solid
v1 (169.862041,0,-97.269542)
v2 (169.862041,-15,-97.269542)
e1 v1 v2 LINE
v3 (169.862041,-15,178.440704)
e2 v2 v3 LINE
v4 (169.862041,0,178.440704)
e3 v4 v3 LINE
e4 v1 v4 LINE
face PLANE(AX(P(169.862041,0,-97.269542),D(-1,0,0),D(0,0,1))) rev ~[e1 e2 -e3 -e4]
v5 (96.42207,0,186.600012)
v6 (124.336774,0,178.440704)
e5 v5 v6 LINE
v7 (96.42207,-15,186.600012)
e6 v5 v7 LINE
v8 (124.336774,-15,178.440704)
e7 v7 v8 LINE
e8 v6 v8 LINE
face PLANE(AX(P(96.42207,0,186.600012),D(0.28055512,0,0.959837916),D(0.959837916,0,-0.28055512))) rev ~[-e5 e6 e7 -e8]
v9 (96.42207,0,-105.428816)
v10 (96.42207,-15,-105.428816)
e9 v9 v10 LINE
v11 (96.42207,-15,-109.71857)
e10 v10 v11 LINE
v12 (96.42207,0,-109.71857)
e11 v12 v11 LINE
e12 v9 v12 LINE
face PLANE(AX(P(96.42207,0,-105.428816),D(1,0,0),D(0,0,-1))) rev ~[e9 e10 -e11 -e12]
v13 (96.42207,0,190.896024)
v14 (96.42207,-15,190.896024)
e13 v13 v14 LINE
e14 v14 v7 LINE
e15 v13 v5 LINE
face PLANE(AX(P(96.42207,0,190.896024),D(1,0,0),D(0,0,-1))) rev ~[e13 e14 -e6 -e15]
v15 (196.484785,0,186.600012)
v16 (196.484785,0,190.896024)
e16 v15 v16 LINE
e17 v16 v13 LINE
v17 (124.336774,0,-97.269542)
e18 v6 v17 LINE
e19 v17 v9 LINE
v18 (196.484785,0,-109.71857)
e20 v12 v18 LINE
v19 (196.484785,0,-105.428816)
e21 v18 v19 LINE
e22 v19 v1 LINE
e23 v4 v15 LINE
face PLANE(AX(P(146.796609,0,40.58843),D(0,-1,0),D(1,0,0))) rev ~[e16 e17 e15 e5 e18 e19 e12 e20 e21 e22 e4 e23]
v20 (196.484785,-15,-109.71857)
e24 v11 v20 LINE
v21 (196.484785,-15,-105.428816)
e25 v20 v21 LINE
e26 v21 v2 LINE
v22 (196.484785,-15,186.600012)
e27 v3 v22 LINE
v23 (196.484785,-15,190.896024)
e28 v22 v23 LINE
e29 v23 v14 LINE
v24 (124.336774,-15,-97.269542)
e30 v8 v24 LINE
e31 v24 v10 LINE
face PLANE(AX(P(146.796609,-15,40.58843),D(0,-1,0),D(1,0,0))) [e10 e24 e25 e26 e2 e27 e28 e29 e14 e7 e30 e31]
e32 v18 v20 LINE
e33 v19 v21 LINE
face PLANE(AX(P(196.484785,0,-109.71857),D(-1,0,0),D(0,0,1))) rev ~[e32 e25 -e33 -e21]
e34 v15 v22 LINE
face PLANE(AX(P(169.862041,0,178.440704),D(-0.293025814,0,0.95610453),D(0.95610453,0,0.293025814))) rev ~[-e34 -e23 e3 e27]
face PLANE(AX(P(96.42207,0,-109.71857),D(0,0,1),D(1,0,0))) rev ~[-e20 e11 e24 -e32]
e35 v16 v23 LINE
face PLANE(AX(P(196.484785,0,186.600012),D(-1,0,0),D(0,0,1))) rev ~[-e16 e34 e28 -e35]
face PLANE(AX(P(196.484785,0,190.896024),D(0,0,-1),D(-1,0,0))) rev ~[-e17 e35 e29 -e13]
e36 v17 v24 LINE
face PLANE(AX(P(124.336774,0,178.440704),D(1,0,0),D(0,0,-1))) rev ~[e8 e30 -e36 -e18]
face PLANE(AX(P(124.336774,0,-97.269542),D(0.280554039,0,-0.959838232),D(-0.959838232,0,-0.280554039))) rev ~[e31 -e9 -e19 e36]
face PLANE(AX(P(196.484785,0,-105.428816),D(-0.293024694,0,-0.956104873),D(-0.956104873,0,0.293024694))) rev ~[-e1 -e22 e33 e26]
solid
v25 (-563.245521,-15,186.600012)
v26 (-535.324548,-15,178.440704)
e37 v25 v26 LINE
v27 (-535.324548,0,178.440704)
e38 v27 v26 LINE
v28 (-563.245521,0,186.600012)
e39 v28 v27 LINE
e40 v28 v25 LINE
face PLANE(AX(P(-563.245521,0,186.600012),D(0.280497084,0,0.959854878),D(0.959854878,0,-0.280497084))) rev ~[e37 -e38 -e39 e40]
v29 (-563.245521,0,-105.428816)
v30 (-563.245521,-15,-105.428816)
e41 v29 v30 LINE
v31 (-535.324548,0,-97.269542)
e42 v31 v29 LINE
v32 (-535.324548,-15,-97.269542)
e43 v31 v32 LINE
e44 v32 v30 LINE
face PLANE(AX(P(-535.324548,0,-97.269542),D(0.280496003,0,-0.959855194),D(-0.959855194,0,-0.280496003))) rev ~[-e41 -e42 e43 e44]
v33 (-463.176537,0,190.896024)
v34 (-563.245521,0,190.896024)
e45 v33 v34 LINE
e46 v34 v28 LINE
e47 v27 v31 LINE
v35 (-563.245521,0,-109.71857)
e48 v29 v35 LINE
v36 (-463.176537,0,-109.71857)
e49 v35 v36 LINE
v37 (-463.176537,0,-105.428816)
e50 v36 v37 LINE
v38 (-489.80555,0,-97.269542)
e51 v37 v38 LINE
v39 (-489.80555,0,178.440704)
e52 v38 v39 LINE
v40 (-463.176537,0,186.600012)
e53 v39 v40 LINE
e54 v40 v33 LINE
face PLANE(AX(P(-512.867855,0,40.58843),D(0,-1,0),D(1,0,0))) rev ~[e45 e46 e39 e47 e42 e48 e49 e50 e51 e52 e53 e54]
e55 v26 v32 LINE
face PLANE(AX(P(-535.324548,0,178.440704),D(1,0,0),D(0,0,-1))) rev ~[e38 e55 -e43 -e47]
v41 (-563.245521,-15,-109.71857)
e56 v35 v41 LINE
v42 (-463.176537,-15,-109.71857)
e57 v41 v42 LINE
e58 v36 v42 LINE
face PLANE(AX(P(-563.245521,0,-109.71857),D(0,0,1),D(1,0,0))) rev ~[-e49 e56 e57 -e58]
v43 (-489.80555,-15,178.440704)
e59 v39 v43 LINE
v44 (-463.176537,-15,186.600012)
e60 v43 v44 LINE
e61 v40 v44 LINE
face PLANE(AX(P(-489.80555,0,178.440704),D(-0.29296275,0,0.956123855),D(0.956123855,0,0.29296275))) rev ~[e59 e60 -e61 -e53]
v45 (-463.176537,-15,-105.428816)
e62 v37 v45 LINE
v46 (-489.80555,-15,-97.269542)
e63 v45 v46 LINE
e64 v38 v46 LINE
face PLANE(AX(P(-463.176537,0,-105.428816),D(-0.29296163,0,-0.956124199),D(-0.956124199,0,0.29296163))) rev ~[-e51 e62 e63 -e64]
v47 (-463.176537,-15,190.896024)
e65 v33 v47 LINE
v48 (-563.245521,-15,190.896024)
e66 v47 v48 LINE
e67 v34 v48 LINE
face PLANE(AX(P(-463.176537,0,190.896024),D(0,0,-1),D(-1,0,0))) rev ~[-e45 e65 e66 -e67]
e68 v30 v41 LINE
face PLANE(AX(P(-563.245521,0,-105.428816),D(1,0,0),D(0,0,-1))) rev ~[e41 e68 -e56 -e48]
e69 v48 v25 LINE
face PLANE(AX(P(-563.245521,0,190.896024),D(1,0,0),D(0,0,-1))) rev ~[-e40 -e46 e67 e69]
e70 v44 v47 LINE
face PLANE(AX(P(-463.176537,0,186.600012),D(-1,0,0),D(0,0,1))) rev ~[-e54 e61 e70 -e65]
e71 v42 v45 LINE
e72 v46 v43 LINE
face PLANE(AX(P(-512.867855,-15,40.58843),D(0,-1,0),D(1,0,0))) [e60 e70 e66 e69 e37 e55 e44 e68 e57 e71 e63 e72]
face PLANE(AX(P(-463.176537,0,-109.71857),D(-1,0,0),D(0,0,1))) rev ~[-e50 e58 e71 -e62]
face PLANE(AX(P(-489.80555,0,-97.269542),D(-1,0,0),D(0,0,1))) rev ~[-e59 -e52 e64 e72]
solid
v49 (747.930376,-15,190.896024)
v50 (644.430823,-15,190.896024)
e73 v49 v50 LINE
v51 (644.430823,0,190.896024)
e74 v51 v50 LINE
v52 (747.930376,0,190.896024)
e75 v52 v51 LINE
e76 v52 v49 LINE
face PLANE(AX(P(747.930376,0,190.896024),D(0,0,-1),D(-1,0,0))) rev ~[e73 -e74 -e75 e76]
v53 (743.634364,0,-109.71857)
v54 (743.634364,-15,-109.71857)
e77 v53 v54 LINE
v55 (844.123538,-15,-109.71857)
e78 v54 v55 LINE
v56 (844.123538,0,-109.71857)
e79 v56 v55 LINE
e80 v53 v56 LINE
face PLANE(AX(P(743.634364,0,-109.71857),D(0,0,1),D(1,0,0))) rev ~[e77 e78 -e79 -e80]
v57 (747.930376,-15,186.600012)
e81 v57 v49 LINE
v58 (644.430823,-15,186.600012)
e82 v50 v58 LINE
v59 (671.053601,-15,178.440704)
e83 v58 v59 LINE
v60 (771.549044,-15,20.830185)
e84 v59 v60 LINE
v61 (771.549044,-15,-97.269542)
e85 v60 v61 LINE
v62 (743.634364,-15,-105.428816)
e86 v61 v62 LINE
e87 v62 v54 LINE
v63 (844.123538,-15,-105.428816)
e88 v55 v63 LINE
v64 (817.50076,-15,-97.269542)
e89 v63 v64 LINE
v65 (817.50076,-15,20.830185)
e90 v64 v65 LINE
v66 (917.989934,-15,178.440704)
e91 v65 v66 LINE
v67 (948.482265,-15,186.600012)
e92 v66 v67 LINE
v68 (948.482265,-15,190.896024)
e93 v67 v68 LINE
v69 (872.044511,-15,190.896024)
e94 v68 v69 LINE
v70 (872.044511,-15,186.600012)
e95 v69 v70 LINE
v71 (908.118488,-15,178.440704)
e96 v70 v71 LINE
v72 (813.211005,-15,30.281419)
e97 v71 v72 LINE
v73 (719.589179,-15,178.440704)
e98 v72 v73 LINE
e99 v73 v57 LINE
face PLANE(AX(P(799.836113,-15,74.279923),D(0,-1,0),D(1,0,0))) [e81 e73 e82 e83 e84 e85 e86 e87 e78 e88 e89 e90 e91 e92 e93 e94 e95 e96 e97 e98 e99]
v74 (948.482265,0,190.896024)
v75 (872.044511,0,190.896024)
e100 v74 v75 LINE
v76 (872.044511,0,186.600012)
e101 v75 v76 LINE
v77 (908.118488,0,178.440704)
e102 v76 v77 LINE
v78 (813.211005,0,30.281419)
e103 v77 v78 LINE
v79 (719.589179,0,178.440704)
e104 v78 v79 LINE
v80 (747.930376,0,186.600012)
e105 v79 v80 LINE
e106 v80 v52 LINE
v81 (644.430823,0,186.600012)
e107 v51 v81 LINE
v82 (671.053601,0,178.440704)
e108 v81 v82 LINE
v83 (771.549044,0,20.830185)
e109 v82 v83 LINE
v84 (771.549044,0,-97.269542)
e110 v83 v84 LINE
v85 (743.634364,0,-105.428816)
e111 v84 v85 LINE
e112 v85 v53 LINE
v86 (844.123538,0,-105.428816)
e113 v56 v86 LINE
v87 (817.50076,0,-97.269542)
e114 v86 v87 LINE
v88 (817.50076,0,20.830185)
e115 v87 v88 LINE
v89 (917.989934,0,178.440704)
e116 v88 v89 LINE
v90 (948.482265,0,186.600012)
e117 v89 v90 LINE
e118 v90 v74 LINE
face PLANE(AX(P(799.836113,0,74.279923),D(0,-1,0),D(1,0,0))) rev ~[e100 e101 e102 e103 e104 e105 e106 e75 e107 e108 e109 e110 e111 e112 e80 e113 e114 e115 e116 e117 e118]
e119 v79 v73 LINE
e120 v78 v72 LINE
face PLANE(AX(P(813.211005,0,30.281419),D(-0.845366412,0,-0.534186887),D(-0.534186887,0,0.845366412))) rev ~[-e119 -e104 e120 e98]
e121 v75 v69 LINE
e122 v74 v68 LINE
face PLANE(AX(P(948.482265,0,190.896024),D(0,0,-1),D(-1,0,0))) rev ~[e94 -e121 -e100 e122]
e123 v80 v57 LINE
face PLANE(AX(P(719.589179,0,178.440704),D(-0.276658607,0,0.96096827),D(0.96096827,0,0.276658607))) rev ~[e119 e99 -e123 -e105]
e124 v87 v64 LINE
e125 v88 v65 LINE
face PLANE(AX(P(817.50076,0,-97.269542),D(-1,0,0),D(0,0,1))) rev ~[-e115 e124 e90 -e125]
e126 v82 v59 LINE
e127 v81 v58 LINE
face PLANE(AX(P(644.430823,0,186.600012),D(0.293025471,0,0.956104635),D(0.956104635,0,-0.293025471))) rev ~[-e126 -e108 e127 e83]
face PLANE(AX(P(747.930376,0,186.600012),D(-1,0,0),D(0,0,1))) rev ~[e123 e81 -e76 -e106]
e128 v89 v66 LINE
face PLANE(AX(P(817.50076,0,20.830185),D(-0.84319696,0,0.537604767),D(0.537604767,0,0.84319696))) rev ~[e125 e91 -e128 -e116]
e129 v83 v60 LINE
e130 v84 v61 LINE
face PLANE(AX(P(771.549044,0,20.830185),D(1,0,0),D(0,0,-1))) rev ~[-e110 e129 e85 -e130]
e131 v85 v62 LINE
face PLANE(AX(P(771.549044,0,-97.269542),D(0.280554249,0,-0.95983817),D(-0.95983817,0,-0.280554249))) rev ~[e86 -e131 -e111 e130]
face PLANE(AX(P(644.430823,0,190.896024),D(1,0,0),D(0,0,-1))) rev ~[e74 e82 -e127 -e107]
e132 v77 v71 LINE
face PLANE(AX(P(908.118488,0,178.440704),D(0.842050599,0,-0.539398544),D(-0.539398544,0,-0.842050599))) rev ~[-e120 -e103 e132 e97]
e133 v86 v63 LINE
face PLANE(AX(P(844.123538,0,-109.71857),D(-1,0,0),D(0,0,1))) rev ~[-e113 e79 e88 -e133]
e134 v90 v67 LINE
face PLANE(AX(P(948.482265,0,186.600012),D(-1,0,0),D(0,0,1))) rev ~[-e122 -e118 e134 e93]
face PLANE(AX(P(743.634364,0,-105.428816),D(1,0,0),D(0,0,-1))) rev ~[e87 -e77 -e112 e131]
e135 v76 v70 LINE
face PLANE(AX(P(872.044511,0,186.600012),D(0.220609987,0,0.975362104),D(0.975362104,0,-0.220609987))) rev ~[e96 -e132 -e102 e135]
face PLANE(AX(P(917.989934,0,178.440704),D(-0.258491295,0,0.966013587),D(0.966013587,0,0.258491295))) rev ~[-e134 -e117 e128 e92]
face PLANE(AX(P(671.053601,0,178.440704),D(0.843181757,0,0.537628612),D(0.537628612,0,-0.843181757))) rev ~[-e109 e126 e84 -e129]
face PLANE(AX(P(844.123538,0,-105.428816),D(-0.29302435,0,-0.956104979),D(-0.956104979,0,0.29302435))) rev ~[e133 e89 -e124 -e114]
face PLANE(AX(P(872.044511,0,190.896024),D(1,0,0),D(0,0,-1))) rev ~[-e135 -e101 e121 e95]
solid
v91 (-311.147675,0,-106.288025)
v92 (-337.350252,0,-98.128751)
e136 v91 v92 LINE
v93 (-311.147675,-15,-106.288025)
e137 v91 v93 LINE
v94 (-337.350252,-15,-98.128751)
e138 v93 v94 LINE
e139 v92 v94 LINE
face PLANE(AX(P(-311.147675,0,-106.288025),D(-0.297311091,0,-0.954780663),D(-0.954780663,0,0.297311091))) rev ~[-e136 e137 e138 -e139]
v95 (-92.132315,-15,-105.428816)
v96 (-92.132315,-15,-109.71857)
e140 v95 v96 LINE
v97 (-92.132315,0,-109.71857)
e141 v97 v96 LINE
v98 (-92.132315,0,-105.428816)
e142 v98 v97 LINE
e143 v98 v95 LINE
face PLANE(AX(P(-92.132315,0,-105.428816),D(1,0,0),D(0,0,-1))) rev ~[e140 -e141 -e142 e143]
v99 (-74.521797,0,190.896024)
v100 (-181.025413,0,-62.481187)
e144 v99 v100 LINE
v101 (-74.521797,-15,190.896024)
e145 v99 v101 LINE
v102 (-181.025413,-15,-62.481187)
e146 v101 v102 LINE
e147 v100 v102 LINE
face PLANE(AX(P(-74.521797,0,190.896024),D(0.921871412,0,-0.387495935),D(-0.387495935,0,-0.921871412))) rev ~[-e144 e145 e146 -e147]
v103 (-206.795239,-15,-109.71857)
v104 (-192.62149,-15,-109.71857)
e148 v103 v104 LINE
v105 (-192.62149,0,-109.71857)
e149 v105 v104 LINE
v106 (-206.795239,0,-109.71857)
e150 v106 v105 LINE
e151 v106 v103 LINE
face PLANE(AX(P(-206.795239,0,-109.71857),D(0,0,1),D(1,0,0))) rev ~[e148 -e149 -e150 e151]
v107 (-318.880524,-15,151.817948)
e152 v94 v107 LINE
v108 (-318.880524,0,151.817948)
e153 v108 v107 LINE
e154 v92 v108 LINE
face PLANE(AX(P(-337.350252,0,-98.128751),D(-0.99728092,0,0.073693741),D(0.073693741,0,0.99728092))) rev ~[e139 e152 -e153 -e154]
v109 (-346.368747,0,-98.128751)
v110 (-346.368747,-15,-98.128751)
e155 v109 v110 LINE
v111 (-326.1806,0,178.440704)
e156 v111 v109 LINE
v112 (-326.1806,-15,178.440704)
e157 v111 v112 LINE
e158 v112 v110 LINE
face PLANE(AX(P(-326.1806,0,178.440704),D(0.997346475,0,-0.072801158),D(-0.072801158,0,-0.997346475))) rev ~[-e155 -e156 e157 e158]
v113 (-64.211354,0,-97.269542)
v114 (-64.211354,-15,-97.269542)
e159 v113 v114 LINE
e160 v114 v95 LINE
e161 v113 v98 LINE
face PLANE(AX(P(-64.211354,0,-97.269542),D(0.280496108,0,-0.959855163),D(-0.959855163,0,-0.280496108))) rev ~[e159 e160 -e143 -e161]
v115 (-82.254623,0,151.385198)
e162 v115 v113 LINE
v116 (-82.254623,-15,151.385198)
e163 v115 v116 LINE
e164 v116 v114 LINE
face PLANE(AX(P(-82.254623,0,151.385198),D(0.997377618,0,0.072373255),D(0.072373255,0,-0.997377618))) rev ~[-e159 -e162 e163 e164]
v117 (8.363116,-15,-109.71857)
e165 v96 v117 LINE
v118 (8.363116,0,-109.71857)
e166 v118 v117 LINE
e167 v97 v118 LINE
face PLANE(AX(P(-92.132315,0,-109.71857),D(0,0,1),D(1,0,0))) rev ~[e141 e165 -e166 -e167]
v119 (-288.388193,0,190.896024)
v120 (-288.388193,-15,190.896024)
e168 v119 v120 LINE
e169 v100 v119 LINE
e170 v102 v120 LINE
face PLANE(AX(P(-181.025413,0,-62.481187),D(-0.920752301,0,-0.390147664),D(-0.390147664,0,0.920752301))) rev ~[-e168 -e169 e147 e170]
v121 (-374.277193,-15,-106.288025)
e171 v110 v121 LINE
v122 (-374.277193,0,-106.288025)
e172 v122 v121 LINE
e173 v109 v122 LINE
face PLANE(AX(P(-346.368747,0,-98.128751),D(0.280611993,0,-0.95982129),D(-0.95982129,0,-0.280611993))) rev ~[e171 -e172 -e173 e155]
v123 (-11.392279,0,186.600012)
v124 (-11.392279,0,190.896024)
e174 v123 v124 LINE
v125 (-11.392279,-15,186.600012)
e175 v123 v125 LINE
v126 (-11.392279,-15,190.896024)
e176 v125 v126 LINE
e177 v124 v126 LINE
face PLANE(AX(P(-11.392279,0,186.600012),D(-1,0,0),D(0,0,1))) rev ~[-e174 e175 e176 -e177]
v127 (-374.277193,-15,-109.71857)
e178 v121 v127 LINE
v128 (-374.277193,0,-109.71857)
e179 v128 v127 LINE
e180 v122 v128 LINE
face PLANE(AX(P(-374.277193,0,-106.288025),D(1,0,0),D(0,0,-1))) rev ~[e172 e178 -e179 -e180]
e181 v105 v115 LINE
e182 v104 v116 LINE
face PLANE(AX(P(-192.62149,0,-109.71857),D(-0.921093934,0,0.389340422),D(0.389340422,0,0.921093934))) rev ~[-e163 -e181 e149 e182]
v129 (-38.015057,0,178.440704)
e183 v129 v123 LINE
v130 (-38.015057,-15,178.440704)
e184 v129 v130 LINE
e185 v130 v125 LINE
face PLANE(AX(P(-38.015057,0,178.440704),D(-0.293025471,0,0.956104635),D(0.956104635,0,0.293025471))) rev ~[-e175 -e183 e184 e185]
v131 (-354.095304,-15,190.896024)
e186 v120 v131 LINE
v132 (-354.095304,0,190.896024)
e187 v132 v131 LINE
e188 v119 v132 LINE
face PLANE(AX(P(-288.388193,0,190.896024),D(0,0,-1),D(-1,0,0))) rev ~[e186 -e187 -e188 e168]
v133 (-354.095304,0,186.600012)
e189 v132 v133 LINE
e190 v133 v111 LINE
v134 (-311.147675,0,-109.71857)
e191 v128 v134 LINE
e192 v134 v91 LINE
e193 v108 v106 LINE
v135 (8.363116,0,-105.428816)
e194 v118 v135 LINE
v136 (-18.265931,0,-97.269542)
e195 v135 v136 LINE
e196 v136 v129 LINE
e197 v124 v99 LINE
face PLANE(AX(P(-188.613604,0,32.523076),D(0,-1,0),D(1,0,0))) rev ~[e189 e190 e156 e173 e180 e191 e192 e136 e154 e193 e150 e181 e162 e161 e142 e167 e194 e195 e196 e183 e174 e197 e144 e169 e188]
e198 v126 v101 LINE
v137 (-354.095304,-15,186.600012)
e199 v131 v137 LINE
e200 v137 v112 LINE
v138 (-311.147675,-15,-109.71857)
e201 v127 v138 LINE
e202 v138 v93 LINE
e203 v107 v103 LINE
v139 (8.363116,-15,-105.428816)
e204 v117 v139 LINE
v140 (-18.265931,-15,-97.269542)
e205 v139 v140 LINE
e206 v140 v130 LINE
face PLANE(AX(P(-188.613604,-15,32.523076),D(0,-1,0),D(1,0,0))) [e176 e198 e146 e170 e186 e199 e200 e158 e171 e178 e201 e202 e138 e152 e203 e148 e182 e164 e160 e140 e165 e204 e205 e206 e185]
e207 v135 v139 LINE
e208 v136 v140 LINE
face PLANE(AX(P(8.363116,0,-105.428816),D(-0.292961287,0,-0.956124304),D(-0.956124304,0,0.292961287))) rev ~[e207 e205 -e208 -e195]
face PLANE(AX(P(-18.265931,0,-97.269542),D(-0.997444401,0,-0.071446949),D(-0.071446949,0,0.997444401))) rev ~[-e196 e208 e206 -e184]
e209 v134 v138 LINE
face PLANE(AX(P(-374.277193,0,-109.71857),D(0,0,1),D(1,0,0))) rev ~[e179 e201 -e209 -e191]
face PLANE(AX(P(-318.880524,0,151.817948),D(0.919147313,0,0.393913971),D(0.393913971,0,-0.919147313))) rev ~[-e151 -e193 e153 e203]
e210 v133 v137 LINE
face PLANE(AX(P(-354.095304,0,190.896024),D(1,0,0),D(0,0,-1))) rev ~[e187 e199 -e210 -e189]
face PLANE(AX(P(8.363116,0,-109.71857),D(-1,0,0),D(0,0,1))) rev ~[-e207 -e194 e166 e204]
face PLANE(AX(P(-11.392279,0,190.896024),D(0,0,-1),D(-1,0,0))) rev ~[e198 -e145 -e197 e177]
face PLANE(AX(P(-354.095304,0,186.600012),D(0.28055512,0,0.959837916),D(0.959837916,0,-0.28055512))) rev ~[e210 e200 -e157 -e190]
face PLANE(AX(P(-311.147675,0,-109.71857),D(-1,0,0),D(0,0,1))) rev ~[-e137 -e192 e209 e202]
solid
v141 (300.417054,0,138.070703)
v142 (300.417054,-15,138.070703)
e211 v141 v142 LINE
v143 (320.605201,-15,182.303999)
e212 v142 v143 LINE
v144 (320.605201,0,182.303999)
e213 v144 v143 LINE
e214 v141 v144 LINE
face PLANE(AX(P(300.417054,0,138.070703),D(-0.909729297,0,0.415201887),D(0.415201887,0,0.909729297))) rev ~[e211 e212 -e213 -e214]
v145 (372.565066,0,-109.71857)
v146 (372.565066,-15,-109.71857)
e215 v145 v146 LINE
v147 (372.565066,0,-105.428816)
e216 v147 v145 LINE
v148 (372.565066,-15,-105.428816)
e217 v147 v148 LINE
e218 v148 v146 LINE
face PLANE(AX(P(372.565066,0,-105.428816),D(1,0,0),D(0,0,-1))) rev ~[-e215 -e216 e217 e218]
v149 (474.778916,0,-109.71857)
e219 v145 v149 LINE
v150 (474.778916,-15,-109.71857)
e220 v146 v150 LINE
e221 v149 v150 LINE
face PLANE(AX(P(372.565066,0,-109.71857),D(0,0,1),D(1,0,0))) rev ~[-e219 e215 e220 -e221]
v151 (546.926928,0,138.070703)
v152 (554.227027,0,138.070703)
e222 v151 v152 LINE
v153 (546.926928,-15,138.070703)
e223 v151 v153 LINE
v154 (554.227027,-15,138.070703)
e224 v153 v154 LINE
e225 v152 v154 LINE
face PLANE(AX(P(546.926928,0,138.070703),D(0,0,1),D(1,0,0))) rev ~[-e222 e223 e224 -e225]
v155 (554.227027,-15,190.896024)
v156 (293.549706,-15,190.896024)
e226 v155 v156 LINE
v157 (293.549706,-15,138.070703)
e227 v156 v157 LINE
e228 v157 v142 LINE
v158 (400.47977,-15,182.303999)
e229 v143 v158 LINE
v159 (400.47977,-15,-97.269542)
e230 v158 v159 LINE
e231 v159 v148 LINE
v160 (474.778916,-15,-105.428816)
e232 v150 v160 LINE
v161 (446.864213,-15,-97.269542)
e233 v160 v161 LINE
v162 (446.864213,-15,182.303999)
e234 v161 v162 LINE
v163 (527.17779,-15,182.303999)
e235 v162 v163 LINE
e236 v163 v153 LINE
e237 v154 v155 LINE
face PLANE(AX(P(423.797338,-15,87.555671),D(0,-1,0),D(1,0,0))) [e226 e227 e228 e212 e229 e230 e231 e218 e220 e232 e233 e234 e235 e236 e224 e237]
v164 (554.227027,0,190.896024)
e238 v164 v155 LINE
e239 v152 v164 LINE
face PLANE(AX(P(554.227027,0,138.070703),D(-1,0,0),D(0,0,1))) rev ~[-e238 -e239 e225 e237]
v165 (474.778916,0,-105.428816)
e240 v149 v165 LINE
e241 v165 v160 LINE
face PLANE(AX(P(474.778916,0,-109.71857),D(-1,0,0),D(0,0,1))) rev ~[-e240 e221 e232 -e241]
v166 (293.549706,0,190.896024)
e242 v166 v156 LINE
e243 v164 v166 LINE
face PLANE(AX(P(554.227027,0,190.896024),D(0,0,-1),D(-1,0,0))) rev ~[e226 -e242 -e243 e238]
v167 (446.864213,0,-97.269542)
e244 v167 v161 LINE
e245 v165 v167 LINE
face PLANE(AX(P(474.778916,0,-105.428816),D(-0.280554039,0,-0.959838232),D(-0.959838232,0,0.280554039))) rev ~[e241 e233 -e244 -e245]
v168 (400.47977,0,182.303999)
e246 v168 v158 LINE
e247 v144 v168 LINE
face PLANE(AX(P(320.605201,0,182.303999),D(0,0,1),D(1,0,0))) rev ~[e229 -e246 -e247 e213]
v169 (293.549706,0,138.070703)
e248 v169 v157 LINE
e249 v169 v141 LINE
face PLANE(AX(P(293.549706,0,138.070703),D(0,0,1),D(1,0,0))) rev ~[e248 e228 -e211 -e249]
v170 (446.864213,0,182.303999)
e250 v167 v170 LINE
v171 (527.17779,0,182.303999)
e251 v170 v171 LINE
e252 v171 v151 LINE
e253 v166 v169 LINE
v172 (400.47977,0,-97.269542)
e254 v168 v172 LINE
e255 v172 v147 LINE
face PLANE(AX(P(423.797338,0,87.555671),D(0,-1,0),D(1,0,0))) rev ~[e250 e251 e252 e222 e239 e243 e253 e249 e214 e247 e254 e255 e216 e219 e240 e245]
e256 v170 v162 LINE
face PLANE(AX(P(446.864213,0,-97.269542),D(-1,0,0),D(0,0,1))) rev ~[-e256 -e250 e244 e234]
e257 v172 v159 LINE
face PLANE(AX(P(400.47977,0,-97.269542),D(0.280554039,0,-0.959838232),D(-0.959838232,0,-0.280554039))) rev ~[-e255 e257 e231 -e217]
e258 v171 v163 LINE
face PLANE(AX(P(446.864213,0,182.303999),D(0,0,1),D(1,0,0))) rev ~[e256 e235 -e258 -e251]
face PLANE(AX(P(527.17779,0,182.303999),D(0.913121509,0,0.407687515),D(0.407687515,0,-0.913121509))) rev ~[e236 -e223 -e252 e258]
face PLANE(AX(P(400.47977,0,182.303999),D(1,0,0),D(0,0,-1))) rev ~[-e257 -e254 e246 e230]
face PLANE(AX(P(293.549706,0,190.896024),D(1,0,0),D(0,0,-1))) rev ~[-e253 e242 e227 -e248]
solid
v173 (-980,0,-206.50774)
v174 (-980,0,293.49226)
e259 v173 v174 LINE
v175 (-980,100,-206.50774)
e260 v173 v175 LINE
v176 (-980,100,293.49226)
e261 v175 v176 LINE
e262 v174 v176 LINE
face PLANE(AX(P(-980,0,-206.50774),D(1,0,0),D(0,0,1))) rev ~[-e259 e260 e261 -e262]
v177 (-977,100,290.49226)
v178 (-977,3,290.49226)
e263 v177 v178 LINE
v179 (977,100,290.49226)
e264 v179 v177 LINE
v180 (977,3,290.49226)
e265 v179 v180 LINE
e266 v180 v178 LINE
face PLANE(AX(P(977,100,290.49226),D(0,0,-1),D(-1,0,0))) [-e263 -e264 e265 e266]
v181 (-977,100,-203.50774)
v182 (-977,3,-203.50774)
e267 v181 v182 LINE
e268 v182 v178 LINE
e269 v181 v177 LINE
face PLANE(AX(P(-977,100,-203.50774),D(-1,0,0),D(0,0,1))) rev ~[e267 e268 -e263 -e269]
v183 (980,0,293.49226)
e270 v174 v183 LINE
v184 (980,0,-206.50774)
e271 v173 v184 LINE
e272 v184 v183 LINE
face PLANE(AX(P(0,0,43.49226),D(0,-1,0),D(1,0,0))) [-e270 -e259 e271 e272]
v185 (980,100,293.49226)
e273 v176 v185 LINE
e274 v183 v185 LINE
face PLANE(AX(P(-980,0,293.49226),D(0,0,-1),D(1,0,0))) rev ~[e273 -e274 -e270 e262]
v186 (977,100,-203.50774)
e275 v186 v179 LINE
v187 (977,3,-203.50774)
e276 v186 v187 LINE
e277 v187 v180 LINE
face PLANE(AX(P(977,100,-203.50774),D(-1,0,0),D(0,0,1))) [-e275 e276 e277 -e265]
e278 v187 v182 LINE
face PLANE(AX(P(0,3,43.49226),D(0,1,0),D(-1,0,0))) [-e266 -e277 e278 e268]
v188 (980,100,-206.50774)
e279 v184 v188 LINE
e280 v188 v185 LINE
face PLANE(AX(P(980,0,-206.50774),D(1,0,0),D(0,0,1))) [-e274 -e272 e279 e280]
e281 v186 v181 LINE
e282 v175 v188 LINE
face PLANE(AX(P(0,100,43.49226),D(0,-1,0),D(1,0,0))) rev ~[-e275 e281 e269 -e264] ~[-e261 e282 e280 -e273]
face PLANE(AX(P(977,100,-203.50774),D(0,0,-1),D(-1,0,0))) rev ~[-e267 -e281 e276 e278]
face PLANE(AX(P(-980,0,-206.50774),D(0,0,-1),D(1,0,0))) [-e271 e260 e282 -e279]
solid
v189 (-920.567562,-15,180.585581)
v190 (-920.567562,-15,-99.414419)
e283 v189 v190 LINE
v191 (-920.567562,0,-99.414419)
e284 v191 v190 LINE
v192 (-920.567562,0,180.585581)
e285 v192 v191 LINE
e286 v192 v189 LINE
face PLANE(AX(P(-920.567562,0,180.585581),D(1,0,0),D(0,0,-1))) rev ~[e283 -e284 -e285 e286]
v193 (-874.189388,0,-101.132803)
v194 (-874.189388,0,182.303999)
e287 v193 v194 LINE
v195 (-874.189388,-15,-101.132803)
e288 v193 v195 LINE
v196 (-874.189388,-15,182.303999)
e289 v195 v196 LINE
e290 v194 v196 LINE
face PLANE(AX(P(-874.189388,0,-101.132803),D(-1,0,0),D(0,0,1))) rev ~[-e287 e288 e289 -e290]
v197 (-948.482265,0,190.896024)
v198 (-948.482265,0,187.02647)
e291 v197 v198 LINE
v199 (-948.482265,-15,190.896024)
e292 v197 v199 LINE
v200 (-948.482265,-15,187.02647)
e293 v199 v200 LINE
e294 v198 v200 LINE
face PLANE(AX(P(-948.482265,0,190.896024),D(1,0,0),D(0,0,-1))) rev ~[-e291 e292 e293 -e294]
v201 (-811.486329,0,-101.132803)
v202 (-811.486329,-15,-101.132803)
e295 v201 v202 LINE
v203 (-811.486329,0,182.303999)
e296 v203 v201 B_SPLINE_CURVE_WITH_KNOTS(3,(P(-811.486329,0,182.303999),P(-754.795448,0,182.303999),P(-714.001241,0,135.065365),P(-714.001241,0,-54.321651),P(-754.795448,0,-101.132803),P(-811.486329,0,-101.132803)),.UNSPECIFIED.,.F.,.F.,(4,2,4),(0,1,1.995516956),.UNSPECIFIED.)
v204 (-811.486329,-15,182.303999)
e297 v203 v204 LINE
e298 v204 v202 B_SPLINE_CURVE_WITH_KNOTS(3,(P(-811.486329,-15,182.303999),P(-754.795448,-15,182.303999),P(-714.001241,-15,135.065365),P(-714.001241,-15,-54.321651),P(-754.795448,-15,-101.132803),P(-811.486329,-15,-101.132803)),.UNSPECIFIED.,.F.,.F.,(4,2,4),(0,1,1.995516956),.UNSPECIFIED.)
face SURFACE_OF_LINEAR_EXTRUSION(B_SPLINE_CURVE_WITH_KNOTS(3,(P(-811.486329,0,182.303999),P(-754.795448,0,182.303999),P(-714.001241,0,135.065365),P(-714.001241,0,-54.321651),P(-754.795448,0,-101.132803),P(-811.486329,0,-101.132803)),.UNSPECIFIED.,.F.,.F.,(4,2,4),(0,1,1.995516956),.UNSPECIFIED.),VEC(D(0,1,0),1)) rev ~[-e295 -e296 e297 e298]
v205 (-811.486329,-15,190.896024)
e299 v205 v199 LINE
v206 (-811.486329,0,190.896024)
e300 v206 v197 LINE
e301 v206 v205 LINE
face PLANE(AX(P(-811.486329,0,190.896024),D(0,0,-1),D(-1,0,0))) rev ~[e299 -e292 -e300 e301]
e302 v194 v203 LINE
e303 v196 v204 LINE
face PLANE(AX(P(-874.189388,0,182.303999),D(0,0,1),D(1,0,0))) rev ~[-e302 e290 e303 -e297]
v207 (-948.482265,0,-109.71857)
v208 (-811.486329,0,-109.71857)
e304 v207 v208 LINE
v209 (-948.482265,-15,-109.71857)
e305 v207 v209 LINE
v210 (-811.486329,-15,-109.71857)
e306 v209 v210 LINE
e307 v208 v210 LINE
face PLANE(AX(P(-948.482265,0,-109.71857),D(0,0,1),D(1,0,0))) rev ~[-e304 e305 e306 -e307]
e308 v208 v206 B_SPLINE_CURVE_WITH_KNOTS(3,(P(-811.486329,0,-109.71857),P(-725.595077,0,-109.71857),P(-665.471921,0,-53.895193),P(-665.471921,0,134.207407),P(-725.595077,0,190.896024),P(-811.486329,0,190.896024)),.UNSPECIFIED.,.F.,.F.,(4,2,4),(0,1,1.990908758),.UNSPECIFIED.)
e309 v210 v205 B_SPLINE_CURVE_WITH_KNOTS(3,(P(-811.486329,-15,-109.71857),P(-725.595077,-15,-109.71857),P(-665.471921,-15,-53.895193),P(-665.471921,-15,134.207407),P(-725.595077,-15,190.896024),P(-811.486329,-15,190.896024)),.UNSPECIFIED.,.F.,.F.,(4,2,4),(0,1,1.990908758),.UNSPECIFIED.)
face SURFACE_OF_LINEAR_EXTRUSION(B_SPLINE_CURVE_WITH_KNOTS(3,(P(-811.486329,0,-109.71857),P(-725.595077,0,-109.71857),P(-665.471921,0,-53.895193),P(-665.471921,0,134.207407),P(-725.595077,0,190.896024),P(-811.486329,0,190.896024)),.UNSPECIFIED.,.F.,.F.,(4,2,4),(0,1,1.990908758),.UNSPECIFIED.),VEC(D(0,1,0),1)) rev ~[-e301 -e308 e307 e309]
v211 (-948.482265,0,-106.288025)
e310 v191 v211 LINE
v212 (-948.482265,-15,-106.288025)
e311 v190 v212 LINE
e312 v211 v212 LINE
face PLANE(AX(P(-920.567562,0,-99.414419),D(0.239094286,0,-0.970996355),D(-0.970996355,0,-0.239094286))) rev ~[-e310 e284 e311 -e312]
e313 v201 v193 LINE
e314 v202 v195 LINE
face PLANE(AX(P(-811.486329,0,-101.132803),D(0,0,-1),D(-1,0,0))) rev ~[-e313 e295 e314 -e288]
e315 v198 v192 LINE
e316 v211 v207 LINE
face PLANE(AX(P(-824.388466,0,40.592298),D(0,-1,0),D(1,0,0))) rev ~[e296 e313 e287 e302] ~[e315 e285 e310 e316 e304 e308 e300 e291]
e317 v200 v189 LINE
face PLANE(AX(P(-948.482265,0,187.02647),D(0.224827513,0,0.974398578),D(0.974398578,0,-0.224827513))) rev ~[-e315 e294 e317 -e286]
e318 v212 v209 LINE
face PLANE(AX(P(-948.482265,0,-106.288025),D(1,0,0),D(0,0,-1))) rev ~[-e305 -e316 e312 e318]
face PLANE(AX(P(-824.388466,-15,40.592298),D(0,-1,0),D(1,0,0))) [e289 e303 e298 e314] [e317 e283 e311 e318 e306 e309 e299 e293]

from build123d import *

# Parameters (mm, degrees)
F1_DEPTH = 15
F2_W     = 1960
F2_H     = 500
F3_DEPTH = 100
F4_W     = 1954
F4_H     = 494
F5_DEPTH = 97


with BuildPart() as f1:
    # F0 (on Front) → F1 (new body)
    with BuildSketch(Plane.XZ):
        with BuildLine():
            Line((-811.4863290109, 190.8960236935), (-948.4822653052, 190.8960236935))
            Line((-948.4822653052, 190.8960236935), (-948.4822653052, 187.026470246))
            Line((-948.4822653052, 187.026470246), (-920.5675615954, 180.5855808972))
            Line((-920.5675615954, 180.5855808972), (-920.5675615954, -99.4144191028))
            Line((-920.5675615954, -99.4144191028), (-948.4822653052, -106.2880248782))
            Line((-948.4822653052, -106.2880248782), (-948.4822653052, -109.7185700347))
            Line((-948.4822653052, -109.7185700347), (-811.4863290109, -109.7185700347))
            add(Edge.make_bspline(
                [(-811.4863290109, -109.7185700347), (-725.5950765146, -109.7185700347), (-665.4719211129, -53.8951927924), (-665.4719211129, 40.5855808972)],
                knots=[0, 0, 0, 0, 1, 1, 1, 1], degree=3))
            add(Edge.make_bspline(
                [(-665.4719211129, 40.5855808972), (-665.4719211129, 134.2074070186), (-725.5950765146, 190.8960236935), (-811.4863290109, 190.8960236935)],
                knots=[0, 0, 0, 0, 1, 1, 1, 1], degree=3))
        make_face()
        with BuildLine():
            Line((-874.1893877168, -101.1328034801), (-874.1893877168, 182.3039994076))
            Line((-874.1893877168, 182.3039994076), (-811.4863290109, 182.3039994076))
            add(Edge.make_bspline(
                [(-811.4863290109, 182.3039994076), (-754.7954481751, 182.3039994076), (-714.0012413063, 135.0653647276), (-714.0012413063, 40.1591222018)],
                knots=[0, 0, 0, 0, 1, 1, 1, 1], degree=3))
            add(Edge.make_bspline(
                [(-714.0012413063, 40.1591222018), (-714.0012413063, -54.3216514878), (-754.7954481751, -101.1328034801), (-811.4863290109, -101.1328034801)],
                knots=[0, 0, 0, 0, 1, 1, 1, 1], degree=3))
            Line((-811.4863290109, -101.1328034801), (-874.1893877168, -101.1328034801))
        make_face(mode=Mode.SUBTRACT)
    extrude(amount=F1_DEPTH)


with BuildPart() as f1b:
    # F0 (on Front) → F1, piece 2 (new body)
    with BuildSketch(Plane.XZ):
        Polygon((-463.1765365311, 190.8960236935), (-563.2455211101, 190.8960236935), (-563.2455211101, 186.6000115506), (-535.3245482914, 178.4407036914), (-535.3245482914, -97.2695418969), (-563.2455211101, -105.428815623), (-563.2455211101, -109.7185700347), (-463.1765365311, -109.7185700347), (-463.1765365311, -105.428815623), (-489.8055495349, -97.2695418969), (-489.8055495349, 178.4407036914), (-463.1765365311, 186.6000115506), align=None)
    extrude(amount=F1_DEPTH)


with BuildPart() as f1c:
    # F0 (on Front) → F1, piece 3 (new body)
    with BuildSketch(Plane.XZ):
        Polygon((-288.3881929127, 190.8960236935), (-354.0953039465, 190.8960236935), (-354.0953039465, 186.6000115506), (-326.1806002367, 178.4407036914), (-346.3687466471, -98.1287511521), (-374.2771926257, -106.2880248782), (-374.2771926257, -109.7185700347), (-311.1476752244, -109.7185700347), (-311.1476752244, -106.2880248782), (-337.3502522882, -98.1287511521), (-318.8805243881, 151.8179484188), (-206.7952394757, -109.7185700347), (-192.6214895855, -109.7185700347), (-82.2546231834, 151.3851978591), (-64.2113539788, -97.2695418969), (-92.1323154199, -105.428815623), (-92.1323154199, -109.7185700347), (8.3631164769, -109.7185700347), (8.3631164769, -105.428815623), (-18.2659306599, -97.2695418969), (-38.0150574017, 178.4407036914), (-11.3922793737, 186.6000115506), (-11.3922793737, 190.8960236935), (-74.5217967751, 190.8960236935), (-181.0254129717, -62.4811869009), align=None)
    extrude(amount=F1_DEPTH)


with BuildPart() as f1d:
    # F0 (on Front) → F1, piece 4 (new body)
    with BuildSketch(Plane.XZ):
        Polygon((196.4847853017, 190.8960236935), (96.4220698316, 190.8960236935), (96.4220698316, 186.6000115506), (124.3367735414, 178.4407036914), (124.3367735414, -97.2695418969), (96.4220698316, -105.428815623), (96.4220698316, -109.7185700347), (196.4847853017, -109.7185700347), (196.4847853017, -105.428815623), (169.8620414068, -97.2695418969), (169.8620414068, 178.4407036914), (196.4847853017, 186.6000115506), align=None)
    extrude(amount=F1_DEPTH)


with BuildPart() as f1e:
    # F0 (on Front) → F1, piece 5 (new body)
    with BuildSketch(Plane.XZ):
        Polygon((554.2270267512, 190.8960236935), (293.5497061751, 190.8960236935), (293.5497061751, 138.0707027349), (300.4170542193, 138.0707027349), (320.6052006298, 182.3039994076), (400.4797696895, 182.3039994076), (400.4797696895, -97.2695418969), (372.5650659796, -105.428815623), (372.5650659796, -109.7185700347), (474.7789163869, -109.7185700347), (474.7789163869, -105.428815623), (446.864212677, -97.2695418969), (446.864212677, 182.3039994076), (527.1777900278, 182.3039994076), (546.9269281472, 138.0707027349), (554.2270267512, 138.0707027349), align=None)
    extrude(amount=F1_DEPTH)


with BuildPart() as f1f:
    # F0 (on Front) → F1, piece 6 (new body)
    with BuildSketch(Plane.XZ):
        Polygon((747.9303756695, 190.8960236935), (644.4308231785, 190.8960236935), (644.4308231785, 186.6000115506), (671.0536012065, 178.4407036914), (771.549044481, 20.8301850466), (771.549044481, -97.2695418969), (743.6343635266, -105.428815623), (743.6343635266, -109.7185700347), (844.1235376921, -109.7185700347), (844.1235376921, -105.428815623), (817.5007596642, -97.2695418969), (817.5007596642, 20.8301850466), (917.9899338298, 178.4407036914), (948.4822653052, 186.6000115506), (948.4822653052, 190.8960236935), (872.0445105109, 190.8960236935), (872.0445105109, 186.6000115506), (908.1184879468, 178.4407036914), (813.2110052525, 30.2814185876), (719.5891791311, 178.4407036914), (747.9303756695, 186.6000115506), align=None)
    extrude(amount=F1_DEPTH)


with BuildPart() as f3:
    # F2 (on Front) → F3 (new body)
    with BuildSketch(Plane.XZ):
        with Locations((0, 43.4922596839)):
            Rectangle(F2_W, F2_H)
    extrude(amount=-F3_DEPTH)

    # F4 (on face) → F5 (cut)
    with BuildSketch(Plane(origin=(0, 100, 0), x_dir=(-1, 0, 0), z_dir=(0, 1, 0))):
        with Locations((0, 43.4922596839)):
            Rectangle(F4_W, F4_H)
    extrude(amount=-F5_DEPTH, mode=Mode.SUBTRACT)


solid = Compound([f1.part, f1b.part, f1c.part, f1d.part, f1e.part, f1f.part, f3.part])
